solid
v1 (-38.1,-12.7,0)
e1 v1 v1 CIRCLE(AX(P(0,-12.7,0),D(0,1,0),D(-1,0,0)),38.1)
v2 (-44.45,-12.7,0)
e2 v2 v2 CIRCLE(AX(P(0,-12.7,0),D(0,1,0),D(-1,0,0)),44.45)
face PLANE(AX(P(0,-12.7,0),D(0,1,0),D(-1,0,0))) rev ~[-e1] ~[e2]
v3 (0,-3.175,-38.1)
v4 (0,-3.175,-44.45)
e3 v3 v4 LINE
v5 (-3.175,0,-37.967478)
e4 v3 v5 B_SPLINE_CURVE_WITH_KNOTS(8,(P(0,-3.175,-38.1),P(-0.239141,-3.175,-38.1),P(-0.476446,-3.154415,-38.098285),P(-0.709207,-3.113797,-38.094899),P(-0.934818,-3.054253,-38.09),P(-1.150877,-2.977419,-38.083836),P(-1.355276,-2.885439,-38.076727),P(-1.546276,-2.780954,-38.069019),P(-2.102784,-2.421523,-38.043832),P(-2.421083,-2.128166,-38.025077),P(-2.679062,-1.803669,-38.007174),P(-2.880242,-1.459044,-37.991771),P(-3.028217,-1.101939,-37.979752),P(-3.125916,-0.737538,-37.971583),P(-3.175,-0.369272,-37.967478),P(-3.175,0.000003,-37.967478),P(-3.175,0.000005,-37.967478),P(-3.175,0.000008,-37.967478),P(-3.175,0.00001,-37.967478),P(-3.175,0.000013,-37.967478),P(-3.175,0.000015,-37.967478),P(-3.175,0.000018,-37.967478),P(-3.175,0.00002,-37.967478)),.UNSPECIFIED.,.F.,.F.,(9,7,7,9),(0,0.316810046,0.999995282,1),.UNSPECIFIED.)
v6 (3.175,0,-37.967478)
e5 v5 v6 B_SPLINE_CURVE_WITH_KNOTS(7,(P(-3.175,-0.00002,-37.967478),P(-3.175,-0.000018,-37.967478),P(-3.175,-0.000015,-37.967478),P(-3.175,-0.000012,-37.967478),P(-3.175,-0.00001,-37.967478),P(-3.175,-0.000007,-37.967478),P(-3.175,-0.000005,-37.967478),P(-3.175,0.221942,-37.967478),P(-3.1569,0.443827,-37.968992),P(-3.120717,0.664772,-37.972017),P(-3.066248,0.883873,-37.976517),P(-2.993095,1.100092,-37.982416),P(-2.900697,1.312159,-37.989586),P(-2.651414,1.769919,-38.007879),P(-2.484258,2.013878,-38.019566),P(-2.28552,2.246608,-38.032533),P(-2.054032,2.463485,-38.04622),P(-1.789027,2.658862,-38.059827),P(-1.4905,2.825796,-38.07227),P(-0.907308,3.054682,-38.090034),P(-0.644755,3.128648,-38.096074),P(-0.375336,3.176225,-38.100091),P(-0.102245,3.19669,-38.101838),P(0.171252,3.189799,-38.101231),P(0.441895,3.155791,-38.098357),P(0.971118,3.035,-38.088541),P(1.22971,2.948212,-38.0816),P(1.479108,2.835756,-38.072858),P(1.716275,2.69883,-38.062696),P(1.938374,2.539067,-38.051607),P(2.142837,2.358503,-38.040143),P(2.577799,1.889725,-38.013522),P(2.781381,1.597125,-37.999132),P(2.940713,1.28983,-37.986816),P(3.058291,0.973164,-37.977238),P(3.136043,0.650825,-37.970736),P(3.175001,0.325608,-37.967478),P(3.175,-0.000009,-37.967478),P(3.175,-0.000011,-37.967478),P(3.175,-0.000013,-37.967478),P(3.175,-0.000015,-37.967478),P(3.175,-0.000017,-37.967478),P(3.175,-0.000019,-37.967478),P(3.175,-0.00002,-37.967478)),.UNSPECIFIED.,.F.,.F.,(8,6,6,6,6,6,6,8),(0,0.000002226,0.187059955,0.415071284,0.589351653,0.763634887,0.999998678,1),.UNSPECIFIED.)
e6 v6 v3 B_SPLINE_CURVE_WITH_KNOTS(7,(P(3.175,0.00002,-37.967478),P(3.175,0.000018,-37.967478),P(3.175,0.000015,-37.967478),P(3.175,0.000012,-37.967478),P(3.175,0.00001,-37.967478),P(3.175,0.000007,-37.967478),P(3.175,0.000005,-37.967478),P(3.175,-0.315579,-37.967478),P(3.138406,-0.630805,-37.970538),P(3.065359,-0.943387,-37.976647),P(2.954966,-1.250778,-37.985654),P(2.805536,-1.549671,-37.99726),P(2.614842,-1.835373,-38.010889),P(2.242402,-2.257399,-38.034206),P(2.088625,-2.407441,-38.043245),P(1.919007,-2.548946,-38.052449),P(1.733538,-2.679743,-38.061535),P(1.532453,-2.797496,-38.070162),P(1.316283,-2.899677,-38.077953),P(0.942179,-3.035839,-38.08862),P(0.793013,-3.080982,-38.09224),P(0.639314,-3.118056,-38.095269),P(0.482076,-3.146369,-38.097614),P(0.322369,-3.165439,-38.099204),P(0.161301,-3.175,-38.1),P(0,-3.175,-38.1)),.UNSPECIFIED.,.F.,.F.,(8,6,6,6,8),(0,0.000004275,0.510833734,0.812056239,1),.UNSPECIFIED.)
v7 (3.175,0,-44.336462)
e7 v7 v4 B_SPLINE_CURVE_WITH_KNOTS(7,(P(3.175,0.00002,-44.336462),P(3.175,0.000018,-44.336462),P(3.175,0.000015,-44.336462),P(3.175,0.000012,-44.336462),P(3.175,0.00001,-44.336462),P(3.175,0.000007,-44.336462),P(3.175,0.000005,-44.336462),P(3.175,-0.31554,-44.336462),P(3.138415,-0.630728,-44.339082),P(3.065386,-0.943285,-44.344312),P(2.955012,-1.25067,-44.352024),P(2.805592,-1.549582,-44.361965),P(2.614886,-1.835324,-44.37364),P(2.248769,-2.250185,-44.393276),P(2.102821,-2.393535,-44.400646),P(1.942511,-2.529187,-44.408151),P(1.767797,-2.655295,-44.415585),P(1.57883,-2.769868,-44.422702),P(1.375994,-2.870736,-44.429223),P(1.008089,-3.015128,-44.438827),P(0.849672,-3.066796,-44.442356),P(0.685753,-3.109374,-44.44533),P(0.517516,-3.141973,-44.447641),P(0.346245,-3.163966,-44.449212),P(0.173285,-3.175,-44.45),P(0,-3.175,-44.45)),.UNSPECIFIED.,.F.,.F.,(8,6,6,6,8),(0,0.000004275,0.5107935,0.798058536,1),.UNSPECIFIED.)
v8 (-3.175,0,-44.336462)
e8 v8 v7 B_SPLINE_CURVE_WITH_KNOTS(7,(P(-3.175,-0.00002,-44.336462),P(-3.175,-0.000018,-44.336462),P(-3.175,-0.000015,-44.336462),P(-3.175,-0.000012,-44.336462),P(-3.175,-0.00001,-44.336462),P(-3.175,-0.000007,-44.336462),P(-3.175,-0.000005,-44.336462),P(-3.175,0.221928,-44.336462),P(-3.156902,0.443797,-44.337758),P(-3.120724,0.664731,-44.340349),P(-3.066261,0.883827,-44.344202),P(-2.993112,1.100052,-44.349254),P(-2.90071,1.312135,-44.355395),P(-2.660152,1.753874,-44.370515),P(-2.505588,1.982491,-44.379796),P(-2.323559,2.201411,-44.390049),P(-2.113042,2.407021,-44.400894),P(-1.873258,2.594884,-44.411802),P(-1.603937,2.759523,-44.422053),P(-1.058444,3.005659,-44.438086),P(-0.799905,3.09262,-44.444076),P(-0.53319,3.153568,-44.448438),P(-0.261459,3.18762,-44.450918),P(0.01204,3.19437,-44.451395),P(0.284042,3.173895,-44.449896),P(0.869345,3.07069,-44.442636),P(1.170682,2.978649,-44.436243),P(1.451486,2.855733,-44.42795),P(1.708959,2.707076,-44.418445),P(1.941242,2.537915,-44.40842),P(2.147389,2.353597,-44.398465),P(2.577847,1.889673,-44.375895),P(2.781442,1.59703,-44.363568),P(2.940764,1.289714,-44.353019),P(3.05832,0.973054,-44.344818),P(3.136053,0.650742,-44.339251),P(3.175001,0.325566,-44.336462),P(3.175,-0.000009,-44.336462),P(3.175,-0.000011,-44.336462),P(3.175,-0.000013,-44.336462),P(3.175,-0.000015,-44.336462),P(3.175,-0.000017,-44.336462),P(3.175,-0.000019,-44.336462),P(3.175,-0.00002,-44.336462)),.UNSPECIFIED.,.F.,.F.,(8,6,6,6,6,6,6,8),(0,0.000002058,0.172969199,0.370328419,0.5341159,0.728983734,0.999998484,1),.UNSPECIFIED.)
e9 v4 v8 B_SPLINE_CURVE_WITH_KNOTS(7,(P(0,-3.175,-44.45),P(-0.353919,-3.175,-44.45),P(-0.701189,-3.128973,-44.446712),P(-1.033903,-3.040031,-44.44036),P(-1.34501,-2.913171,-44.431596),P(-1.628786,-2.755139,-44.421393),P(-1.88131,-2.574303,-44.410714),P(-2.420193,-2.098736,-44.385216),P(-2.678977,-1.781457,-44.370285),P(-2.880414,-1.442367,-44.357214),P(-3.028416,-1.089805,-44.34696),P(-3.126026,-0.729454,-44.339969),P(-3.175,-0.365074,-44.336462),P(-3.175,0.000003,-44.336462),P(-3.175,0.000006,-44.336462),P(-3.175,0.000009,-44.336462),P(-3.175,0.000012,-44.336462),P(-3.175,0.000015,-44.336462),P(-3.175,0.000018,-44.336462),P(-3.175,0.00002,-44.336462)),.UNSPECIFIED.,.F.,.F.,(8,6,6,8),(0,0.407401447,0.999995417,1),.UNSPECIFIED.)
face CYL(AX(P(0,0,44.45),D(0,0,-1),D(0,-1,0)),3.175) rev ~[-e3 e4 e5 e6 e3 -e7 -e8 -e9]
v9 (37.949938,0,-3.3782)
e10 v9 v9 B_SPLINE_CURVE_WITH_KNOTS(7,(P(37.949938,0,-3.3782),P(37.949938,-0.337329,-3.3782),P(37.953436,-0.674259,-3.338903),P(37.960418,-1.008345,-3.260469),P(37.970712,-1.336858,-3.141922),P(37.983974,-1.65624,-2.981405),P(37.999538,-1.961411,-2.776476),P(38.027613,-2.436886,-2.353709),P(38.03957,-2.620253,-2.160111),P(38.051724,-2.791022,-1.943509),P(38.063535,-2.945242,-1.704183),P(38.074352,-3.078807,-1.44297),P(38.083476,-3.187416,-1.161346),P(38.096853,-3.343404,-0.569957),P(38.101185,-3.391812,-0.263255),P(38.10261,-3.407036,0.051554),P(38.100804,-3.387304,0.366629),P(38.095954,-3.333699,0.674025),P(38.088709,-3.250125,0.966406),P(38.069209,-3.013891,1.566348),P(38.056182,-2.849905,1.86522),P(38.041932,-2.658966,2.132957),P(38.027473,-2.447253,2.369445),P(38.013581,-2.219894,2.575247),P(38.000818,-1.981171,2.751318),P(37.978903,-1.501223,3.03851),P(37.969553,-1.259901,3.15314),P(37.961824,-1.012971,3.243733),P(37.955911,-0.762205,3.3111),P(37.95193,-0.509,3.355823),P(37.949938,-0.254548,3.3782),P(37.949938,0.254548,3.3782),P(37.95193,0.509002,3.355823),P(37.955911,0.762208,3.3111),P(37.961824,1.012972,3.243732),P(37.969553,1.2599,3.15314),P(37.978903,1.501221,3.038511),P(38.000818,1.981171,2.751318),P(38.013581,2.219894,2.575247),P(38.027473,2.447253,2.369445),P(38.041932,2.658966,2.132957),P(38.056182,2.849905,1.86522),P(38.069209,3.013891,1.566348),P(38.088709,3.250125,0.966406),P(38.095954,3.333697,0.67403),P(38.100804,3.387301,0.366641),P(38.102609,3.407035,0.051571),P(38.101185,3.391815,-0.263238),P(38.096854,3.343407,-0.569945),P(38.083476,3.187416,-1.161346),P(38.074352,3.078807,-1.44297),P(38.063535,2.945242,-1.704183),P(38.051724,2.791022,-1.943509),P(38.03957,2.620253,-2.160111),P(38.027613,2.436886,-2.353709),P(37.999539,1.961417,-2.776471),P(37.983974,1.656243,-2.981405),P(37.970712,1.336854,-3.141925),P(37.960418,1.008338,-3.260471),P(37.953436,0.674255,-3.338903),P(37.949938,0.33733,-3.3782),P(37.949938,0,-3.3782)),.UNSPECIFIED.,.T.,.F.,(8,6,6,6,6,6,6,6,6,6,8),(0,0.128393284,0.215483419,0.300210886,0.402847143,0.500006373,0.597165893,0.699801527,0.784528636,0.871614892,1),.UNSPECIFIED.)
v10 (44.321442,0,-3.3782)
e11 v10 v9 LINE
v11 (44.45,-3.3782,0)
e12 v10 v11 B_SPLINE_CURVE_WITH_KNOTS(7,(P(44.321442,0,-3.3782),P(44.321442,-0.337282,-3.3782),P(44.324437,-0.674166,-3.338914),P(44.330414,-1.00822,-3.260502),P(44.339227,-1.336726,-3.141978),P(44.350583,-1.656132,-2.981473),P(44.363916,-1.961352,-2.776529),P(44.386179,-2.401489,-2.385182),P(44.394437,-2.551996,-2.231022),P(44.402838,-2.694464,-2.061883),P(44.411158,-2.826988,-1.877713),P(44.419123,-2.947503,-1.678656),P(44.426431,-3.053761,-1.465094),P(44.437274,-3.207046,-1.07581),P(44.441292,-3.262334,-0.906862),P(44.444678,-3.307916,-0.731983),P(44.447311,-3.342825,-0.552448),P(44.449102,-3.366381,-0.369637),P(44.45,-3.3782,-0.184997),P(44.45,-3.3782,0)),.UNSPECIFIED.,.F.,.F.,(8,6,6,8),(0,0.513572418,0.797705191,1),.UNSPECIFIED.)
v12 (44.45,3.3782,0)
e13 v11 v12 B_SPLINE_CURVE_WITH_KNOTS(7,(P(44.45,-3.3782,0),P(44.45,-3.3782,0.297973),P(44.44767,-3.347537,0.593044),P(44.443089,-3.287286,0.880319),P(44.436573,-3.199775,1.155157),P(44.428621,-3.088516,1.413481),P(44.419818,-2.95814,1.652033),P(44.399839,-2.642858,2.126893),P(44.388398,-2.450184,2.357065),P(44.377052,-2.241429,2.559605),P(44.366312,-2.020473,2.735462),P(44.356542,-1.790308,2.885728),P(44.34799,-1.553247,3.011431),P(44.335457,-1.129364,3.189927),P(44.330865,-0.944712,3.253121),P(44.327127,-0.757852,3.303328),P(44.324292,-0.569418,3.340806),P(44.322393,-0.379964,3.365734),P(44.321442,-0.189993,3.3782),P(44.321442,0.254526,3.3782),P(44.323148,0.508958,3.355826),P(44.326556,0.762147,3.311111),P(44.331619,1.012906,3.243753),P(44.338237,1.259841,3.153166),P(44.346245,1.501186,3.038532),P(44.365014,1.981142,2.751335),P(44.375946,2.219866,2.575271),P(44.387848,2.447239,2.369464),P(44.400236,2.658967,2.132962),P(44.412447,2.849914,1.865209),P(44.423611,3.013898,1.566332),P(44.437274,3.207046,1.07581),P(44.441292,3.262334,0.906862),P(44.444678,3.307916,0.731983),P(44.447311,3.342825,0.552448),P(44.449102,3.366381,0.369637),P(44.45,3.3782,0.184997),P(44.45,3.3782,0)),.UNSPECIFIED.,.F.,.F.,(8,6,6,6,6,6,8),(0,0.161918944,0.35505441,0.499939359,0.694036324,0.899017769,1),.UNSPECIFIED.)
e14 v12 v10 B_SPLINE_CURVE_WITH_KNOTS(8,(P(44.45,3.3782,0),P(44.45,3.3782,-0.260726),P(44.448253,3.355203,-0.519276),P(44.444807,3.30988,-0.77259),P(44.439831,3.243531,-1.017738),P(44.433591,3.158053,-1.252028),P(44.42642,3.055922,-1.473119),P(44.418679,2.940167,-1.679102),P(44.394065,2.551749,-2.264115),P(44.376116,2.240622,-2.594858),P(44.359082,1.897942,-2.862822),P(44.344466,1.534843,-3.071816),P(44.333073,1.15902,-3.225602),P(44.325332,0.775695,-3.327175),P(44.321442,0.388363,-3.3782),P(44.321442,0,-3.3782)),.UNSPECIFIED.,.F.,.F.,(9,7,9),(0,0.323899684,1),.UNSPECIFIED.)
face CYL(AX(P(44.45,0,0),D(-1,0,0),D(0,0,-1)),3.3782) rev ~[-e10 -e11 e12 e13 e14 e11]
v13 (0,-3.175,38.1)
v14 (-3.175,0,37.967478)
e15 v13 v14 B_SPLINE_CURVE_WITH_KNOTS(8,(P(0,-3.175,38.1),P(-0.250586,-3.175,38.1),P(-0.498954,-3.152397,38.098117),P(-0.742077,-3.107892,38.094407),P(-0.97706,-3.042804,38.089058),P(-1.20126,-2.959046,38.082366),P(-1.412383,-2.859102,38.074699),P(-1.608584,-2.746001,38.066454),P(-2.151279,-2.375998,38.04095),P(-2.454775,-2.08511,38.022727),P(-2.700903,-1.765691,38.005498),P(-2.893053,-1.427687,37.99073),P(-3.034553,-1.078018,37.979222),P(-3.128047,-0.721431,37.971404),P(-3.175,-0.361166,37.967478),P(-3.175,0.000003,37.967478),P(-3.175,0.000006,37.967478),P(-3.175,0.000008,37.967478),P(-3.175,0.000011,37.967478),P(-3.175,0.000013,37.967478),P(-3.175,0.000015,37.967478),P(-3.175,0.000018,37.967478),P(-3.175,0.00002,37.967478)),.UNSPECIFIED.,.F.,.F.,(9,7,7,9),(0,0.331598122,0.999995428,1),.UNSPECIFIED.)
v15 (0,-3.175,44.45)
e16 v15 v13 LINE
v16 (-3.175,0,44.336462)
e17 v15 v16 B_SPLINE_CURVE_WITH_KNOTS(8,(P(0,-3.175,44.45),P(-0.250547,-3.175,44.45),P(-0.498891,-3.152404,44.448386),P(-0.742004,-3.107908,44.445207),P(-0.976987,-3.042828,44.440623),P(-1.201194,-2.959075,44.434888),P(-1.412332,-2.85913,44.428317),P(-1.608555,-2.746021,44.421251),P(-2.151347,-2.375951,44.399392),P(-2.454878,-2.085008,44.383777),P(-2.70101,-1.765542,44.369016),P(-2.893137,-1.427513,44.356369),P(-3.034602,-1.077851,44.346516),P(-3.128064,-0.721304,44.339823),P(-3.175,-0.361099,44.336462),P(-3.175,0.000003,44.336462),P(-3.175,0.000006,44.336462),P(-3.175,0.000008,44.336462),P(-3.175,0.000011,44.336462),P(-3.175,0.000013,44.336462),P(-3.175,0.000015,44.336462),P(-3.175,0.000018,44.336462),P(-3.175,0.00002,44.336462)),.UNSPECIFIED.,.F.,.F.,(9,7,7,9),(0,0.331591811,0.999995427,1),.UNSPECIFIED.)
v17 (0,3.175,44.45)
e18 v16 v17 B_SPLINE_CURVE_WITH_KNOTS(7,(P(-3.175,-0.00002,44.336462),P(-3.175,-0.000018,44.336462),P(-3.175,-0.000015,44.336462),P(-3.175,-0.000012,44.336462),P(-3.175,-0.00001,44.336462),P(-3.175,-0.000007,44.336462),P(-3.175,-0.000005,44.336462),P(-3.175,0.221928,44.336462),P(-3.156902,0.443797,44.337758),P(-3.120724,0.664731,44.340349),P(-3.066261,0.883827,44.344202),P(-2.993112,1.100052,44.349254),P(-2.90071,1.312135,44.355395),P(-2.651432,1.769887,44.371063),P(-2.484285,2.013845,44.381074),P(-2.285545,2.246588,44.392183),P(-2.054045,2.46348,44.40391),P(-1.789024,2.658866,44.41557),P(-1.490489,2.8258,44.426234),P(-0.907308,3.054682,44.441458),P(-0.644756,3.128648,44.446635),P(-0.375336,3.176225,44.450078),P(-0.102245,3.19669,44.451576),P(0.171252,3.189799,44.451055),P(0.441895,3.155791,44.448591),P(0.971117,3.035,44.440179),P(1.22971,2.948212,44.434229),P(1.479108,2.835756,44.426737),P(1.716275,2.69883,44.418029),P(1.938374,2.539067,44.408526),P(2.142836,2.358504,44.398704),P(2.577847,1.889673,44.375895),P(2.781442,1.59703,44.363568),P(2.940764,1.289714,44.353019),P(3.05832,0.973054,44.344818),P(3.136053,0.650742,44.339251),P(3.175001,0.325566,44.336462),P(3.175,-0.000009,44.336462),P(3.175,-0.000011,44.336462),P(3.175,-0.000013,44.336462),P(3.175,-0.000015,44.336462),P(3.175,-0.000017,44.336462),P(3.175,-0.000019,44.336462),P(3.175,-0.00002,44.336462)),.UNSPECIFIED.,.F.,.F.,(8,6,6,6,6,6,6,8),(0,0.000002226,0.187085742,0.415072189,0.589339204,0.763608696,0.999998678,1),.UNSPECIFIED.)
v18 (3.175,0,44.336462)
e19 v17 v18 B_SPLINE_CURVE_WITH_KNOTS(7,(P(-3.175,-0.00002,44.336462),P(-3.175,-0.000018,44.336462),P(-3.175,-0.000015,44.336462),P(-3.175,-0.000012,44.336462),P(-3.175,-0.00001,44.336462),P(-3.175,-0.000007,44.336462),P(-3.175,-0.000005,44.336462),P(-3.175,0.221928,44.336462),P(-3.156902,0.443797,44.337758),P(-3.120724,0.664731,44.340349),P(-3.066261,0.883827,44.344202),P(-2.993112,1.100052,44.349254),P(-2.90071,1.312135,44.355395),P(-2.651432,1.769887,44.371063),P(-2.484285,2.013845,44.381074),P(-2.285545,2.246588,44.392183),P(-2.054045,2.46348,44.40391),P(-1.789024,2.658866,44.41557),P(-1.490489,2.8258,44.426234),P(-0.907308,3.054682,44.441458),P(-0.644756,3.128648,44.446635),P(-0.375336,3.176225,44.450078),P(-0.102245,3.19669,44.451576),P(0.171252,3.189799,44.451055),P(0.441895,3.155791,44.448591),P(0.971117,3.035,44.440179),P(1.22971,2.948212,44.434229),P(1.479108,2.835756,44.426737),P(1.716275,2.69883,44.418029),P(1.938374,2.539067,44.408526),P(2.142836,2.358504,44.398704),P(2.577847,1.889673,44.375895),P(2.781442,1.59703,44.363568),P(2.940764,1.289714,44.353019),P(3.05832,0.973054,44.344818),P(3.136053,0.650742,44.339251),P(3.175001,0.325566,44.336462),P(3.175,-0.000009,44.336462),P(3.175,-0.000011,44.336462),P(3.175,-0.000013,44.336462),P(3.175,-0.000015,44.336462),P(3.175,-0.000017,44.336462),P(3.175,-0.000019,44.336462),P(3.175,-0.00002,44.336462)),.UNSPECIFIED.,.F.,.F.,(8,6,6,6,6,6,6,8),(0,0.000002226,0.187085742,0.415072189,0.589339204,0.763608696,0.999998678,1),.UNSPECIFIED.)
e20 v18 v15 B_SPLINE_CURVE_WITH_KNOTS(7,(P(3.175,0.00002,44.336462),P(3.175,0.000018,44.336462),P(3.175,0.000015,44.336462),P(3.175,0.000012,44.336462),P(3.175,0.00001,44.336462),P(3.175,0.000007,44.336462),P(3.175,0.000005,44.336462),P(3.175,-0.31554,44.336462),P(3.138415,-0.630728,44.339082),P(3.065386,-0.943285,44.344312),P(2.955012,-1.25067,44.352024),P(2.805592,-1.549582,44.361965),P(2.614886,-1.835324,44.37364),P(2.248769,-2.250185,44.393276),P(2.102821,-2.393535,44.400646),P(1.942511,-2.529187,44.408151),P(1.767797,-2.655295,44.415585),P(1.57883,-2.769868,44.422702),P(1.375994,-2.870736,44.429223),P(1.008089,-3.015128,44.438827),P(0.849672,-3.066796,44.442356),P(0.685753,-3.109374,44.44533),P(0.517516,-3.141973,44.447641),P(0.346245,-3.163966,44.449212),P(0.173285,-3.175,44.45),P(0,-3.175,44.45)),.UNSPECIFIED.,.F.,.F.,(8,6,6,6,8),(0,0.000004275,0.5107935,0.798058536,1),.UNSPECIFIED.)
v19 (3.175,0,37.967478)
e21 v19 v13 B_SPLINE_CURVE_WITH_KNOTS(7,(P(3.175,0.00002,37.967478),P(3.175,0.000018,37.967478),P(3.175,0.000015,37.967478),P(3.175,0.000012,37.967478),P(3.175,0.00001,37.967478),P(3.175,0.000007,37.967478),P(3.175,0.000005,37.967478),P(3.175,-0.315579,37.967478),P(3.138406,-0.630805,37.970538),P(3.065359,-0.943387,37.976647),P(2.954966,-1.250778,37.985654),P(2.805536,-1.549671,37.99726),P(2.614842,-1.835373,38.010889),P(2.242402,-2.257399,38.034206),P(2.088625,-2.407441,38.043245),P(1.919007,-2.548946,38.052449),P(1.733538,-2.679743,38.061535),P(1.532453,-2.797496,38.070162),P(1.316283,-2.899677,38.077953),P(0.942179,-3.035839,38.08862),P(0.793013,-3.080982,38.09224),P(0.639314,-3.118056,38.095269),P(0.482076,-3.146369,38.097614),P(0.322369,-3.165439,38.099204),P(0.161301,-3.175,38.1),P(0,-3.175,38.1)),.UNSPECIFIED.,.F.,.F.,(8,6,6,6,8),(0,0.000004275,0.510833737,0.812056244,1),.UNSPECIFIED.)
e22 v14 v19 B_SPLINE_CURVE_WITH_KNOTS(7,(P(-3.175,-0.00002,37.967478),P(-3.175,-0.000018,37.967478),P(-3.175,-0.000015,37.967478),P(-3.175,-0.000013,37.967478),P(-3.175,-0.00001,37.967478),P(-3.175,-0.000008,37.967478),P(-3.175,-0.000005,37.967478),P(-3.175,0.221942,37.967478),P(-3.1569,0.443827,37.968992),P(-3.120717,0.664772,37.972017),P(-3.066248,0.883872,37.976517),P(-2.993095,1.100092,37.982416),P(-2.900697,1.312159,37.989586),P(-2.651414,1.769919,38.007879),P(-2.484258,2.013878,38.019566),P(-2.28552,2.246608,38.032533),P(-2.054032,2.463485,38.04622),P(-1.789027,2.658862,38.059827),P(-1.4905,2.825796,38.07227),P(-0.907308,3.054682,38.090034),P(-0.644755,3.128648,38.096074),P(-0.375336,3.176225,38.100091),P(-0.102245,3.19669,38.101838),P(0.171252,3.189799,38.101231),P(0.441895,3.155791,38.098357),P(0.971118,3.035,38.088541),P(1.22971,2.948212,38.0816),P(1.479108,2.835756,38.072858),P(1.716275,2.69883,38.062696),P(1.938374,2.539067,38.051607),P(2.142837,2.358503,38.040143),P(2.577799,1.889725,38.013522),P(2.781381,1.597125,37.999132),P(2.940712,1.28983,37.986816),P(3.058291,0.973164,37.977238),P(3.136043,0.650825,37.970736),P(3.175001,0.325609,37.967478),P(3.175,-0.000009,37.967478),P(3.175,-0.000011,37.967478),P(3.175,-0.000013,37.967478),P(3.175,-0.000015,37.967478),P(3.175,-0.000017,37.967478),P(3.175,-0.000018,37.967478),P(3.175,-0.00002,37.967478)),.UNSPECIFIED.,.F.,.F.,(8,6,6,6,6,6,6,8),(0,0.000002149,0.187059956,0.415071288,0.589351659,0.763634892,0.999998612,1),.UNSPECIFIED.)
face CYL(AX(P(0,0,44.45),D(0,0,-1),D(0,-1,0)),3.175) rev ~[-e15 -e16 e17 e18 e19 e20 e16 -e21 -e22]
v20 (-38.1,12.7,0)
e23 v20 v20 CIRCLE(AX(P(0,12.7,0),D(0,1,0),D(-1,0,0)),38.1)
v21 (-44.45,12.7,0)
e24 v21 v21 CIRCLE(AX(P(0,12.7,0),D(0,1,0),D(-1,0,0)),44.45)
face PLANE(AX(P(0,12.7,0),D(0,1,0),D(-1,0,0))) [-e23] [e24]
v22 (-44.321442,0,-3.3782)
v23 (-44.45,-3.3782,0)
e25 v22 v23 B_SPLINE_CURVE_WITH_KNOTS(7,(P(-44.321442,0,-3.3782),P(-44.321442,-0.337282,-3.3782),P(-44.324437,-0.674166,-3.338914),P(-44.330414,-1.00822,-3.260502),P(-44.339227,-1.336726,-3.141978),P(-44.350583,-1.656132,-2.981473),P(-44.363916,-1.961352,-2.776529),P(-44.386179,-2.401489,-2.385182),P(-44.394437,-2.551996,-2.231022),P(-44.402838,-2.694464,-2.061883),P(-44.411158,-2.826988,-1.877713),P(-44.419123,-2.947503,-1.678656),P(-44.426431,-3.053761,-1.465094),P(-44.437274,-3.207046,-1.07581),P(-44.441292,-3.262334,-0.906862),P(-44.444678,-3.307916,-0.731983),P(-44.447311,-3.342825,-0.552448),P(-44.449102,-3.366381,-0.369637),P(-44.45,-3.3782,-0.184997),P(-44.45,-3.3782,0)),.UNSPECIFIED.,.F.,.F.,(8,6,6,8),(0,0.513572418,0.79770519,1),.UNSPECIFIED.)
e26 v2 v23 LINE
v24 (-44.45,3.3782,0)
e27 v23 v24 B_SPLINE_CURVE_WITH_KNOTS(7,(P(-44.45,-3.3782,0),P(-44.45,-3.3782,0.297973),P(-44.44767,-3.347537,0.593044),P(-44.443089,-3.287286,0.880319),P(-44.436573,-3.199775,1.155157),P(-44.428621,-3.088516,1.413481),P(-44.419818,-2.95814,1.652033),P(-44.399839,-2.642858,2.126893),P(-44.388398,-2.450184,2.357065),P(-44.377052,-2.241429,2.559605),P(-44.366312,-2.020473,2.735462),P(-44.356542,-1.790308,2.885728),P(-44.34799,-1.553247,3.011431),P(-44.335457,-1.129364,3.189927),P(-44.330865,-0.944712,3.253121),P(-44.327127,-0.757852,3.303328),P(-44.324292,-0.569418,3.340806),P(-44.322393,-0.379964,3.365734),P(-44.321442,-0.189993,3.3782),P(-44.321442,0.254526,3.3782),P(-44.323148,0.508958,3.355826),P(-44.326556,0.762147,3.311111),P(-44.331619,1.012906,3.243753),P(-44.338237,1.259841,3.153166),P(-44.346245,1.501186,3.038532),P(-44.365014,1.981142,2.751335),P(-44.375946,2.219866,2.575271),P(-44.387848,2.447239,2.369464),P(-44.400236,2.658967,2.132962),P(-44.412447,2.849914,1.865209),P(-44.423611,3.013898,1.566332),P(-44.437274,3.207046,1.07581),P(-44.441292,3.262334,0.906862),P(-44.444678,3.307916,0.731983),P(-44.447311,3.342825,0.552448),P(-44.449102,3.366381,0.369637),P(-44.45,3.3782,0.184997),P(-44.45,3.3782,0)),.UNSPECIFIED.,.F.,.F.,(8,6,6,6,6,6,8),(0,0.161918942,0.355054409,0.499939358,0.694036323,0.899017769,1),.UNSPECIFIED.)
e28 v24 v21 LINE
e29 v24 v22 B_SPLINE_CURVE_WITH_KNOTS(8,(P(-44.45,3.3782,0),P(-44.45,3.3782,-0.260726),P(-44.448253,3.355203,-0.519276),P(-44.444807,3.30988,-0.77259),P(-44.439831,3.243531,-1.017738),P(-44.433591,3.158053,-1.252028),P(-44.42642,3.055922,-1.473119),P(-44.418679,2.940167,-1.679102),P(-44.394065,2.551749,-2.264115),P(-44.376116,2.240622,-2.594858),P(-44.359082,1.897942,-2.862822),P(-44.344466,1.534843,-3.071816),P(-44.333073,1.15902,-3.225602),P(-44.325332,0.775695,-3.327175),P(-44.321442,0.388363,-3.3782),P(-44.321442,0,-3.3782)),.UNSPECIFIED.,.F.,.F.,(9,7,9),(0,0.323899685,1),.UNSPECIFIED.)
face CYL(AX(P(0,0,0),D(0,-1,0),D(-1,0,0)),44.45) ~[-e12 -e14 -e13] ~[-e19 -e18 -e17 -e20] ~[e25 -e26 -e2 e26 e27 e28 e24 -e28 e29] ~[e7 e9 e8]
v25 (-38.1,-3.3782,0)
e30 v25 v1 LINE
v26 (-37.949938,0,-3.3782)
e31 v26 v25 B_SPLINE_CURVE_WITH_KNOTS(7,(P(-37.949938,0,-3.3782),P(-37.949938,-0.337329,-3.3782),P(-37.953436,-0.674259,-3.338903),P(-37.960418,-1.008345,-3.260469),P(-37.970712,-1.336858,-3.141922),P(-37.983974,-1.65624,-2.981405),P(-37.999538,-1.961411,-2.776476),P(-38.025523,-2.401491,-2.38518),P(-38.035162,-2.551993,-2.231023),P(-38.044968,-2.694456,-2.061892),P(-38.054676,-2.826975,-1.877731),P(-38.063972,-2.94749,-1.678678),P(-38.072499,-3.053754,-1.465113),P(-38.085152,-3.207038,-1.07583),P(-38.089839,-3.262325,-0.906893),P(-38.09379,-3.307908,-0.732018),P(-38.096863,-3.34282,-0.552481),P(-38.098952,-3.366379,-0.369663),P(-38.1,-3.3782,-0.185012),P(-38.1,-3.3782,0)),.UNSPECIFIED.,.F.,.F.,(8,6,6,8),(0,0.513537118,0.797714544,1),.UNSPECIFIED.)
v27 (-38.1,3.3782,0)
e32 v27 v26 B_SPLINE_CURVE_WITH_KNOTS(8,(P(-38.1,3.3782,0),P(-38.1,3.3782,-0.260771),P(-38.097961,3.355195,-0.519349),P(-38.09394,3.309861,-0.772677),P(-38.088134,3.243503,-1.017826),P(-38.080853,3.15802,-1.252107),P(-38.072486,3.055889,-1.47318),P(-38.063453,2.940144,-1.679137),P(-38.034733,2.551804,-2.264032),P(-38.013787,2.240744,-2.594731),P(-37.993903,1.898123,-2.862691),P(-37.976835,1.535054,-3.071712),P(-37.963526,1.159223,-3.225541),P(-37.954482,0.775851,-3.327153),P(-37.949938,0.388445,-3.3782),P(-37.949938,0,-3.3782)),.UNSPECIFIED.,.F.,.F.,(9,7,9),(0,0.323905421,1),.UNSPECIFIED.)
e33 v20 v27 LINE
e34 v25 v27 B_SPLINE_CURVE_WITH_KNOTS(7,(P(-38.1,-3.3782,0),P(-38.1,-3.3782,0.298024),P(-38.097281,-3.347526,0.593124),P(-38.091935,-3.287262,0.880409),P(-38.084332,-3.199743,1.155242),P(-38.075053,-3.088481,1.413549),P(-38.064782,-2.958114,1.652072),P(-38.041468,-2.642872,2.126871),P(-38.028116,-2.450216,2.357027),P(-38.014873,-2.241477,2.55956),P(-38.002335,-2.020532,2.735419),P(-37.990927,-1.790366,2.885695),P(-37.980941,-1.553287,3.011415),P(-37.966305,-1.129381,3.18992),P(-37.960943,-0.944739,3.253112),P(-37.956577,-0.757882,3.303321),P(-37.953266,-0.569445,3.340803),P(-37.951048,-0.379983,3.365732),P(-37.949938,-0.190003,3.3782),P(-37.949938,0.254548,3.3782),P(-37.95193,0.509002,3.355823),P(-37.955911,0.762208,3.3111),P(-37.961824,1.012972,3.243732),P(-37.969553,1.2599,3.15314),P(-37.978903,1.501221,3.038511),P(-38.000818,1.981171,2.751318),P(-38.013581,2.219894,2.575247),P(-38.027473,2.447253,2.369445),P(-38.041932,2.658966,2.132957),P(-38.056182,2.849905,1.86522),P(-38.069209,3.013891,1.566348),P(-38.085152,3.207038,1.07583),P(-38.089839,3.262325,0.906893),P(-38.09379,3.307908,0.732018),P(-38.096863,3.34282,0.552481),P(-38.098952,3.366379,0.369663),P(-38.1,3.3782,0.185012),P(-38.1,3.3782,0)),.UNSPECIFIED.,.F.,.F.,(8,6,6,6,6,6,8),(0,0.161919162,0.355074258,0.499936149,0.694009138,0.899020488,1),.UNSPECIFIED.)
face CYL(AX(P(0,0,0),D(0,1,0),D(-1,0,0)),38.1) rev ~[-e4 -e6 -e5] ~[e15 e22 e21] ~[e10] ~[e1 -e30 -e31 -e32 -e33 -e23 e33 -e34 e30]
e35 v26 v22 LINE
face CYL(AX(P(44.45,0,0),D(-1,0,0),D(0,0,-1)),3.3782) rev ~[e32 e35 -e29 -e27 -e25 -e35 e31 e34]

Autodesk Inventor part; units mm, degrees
ref_plane "XZ Plane" through (0, 0, 0) normal (0, 1, 0) x (-1, 0, 0)
sketch "Sketch1" plane through (0, 0, 0) normal (0, 1, 0) x (-1, 0, 0)
  circle A0 centre (0, 0) radius 38.1
  circle A1 centre (0, 0) radius 44.45
  dimension "d0" = 76.2
  dimension "d1" = 88.9
extrude "Extrusion1" add sketch "Sketch1" along normal mid plane 25.4
ref_plane "Work Plane1" through (0, 0, 44.45) normal (0, 0, 1) x (1, 0, 0)
sketch "Sketch2" plane through (0, 0, 44.45) normal (0, 0, 1) x (1, 0, 0)
  point P0 (0, 0)
  point P1 (0, 0)
hole "Hole1" at (0, 0, 44.45) direction (0, 0, -1) diameter 6.35 end through all
ref_plane "Work Plane2" through (44.45, 0, 0) normal (1, 0, 0) x (0, 1, 0)
sketch "Sketch3" plane through (44.45, 0, 0) normal (1, 0, 0) x (0, 1, 0)
  point P0 (0, 0)
  point P1 (0, 0)
hole "Hole2" at (44.45, 0, 0) direction (-1, 0, 0) diameter 6.7564 end through all clearance for "Flat Head Machine Screw (82)" size "1/4" standard "Ansi Unified Screw Threads"
equation "\"d0\" = cupDiam"
equation "\"d1\" = outerRingDism"
equation "\"d2\" = ringHeight"
equation "\"d5\" = ringAxelDiam"
equation "\"cupDiam\" = 76.2"
equation "\"ringThickness\" = 6.35"
equation "\"ringHeight\" = 25.4"
equation "\"ringAxelDiam\" = 6.35"
equation "\"outerRingDism\" = cupDiam + 2 * ringThickness"
equation "\"outerRingRadius\" = 0.5 * outerRingDism"
equation "\"d4\" = outerRingRadius"
equation "\"d12\" = outerRingRadius"
properties part number "RounedInnerRing"
